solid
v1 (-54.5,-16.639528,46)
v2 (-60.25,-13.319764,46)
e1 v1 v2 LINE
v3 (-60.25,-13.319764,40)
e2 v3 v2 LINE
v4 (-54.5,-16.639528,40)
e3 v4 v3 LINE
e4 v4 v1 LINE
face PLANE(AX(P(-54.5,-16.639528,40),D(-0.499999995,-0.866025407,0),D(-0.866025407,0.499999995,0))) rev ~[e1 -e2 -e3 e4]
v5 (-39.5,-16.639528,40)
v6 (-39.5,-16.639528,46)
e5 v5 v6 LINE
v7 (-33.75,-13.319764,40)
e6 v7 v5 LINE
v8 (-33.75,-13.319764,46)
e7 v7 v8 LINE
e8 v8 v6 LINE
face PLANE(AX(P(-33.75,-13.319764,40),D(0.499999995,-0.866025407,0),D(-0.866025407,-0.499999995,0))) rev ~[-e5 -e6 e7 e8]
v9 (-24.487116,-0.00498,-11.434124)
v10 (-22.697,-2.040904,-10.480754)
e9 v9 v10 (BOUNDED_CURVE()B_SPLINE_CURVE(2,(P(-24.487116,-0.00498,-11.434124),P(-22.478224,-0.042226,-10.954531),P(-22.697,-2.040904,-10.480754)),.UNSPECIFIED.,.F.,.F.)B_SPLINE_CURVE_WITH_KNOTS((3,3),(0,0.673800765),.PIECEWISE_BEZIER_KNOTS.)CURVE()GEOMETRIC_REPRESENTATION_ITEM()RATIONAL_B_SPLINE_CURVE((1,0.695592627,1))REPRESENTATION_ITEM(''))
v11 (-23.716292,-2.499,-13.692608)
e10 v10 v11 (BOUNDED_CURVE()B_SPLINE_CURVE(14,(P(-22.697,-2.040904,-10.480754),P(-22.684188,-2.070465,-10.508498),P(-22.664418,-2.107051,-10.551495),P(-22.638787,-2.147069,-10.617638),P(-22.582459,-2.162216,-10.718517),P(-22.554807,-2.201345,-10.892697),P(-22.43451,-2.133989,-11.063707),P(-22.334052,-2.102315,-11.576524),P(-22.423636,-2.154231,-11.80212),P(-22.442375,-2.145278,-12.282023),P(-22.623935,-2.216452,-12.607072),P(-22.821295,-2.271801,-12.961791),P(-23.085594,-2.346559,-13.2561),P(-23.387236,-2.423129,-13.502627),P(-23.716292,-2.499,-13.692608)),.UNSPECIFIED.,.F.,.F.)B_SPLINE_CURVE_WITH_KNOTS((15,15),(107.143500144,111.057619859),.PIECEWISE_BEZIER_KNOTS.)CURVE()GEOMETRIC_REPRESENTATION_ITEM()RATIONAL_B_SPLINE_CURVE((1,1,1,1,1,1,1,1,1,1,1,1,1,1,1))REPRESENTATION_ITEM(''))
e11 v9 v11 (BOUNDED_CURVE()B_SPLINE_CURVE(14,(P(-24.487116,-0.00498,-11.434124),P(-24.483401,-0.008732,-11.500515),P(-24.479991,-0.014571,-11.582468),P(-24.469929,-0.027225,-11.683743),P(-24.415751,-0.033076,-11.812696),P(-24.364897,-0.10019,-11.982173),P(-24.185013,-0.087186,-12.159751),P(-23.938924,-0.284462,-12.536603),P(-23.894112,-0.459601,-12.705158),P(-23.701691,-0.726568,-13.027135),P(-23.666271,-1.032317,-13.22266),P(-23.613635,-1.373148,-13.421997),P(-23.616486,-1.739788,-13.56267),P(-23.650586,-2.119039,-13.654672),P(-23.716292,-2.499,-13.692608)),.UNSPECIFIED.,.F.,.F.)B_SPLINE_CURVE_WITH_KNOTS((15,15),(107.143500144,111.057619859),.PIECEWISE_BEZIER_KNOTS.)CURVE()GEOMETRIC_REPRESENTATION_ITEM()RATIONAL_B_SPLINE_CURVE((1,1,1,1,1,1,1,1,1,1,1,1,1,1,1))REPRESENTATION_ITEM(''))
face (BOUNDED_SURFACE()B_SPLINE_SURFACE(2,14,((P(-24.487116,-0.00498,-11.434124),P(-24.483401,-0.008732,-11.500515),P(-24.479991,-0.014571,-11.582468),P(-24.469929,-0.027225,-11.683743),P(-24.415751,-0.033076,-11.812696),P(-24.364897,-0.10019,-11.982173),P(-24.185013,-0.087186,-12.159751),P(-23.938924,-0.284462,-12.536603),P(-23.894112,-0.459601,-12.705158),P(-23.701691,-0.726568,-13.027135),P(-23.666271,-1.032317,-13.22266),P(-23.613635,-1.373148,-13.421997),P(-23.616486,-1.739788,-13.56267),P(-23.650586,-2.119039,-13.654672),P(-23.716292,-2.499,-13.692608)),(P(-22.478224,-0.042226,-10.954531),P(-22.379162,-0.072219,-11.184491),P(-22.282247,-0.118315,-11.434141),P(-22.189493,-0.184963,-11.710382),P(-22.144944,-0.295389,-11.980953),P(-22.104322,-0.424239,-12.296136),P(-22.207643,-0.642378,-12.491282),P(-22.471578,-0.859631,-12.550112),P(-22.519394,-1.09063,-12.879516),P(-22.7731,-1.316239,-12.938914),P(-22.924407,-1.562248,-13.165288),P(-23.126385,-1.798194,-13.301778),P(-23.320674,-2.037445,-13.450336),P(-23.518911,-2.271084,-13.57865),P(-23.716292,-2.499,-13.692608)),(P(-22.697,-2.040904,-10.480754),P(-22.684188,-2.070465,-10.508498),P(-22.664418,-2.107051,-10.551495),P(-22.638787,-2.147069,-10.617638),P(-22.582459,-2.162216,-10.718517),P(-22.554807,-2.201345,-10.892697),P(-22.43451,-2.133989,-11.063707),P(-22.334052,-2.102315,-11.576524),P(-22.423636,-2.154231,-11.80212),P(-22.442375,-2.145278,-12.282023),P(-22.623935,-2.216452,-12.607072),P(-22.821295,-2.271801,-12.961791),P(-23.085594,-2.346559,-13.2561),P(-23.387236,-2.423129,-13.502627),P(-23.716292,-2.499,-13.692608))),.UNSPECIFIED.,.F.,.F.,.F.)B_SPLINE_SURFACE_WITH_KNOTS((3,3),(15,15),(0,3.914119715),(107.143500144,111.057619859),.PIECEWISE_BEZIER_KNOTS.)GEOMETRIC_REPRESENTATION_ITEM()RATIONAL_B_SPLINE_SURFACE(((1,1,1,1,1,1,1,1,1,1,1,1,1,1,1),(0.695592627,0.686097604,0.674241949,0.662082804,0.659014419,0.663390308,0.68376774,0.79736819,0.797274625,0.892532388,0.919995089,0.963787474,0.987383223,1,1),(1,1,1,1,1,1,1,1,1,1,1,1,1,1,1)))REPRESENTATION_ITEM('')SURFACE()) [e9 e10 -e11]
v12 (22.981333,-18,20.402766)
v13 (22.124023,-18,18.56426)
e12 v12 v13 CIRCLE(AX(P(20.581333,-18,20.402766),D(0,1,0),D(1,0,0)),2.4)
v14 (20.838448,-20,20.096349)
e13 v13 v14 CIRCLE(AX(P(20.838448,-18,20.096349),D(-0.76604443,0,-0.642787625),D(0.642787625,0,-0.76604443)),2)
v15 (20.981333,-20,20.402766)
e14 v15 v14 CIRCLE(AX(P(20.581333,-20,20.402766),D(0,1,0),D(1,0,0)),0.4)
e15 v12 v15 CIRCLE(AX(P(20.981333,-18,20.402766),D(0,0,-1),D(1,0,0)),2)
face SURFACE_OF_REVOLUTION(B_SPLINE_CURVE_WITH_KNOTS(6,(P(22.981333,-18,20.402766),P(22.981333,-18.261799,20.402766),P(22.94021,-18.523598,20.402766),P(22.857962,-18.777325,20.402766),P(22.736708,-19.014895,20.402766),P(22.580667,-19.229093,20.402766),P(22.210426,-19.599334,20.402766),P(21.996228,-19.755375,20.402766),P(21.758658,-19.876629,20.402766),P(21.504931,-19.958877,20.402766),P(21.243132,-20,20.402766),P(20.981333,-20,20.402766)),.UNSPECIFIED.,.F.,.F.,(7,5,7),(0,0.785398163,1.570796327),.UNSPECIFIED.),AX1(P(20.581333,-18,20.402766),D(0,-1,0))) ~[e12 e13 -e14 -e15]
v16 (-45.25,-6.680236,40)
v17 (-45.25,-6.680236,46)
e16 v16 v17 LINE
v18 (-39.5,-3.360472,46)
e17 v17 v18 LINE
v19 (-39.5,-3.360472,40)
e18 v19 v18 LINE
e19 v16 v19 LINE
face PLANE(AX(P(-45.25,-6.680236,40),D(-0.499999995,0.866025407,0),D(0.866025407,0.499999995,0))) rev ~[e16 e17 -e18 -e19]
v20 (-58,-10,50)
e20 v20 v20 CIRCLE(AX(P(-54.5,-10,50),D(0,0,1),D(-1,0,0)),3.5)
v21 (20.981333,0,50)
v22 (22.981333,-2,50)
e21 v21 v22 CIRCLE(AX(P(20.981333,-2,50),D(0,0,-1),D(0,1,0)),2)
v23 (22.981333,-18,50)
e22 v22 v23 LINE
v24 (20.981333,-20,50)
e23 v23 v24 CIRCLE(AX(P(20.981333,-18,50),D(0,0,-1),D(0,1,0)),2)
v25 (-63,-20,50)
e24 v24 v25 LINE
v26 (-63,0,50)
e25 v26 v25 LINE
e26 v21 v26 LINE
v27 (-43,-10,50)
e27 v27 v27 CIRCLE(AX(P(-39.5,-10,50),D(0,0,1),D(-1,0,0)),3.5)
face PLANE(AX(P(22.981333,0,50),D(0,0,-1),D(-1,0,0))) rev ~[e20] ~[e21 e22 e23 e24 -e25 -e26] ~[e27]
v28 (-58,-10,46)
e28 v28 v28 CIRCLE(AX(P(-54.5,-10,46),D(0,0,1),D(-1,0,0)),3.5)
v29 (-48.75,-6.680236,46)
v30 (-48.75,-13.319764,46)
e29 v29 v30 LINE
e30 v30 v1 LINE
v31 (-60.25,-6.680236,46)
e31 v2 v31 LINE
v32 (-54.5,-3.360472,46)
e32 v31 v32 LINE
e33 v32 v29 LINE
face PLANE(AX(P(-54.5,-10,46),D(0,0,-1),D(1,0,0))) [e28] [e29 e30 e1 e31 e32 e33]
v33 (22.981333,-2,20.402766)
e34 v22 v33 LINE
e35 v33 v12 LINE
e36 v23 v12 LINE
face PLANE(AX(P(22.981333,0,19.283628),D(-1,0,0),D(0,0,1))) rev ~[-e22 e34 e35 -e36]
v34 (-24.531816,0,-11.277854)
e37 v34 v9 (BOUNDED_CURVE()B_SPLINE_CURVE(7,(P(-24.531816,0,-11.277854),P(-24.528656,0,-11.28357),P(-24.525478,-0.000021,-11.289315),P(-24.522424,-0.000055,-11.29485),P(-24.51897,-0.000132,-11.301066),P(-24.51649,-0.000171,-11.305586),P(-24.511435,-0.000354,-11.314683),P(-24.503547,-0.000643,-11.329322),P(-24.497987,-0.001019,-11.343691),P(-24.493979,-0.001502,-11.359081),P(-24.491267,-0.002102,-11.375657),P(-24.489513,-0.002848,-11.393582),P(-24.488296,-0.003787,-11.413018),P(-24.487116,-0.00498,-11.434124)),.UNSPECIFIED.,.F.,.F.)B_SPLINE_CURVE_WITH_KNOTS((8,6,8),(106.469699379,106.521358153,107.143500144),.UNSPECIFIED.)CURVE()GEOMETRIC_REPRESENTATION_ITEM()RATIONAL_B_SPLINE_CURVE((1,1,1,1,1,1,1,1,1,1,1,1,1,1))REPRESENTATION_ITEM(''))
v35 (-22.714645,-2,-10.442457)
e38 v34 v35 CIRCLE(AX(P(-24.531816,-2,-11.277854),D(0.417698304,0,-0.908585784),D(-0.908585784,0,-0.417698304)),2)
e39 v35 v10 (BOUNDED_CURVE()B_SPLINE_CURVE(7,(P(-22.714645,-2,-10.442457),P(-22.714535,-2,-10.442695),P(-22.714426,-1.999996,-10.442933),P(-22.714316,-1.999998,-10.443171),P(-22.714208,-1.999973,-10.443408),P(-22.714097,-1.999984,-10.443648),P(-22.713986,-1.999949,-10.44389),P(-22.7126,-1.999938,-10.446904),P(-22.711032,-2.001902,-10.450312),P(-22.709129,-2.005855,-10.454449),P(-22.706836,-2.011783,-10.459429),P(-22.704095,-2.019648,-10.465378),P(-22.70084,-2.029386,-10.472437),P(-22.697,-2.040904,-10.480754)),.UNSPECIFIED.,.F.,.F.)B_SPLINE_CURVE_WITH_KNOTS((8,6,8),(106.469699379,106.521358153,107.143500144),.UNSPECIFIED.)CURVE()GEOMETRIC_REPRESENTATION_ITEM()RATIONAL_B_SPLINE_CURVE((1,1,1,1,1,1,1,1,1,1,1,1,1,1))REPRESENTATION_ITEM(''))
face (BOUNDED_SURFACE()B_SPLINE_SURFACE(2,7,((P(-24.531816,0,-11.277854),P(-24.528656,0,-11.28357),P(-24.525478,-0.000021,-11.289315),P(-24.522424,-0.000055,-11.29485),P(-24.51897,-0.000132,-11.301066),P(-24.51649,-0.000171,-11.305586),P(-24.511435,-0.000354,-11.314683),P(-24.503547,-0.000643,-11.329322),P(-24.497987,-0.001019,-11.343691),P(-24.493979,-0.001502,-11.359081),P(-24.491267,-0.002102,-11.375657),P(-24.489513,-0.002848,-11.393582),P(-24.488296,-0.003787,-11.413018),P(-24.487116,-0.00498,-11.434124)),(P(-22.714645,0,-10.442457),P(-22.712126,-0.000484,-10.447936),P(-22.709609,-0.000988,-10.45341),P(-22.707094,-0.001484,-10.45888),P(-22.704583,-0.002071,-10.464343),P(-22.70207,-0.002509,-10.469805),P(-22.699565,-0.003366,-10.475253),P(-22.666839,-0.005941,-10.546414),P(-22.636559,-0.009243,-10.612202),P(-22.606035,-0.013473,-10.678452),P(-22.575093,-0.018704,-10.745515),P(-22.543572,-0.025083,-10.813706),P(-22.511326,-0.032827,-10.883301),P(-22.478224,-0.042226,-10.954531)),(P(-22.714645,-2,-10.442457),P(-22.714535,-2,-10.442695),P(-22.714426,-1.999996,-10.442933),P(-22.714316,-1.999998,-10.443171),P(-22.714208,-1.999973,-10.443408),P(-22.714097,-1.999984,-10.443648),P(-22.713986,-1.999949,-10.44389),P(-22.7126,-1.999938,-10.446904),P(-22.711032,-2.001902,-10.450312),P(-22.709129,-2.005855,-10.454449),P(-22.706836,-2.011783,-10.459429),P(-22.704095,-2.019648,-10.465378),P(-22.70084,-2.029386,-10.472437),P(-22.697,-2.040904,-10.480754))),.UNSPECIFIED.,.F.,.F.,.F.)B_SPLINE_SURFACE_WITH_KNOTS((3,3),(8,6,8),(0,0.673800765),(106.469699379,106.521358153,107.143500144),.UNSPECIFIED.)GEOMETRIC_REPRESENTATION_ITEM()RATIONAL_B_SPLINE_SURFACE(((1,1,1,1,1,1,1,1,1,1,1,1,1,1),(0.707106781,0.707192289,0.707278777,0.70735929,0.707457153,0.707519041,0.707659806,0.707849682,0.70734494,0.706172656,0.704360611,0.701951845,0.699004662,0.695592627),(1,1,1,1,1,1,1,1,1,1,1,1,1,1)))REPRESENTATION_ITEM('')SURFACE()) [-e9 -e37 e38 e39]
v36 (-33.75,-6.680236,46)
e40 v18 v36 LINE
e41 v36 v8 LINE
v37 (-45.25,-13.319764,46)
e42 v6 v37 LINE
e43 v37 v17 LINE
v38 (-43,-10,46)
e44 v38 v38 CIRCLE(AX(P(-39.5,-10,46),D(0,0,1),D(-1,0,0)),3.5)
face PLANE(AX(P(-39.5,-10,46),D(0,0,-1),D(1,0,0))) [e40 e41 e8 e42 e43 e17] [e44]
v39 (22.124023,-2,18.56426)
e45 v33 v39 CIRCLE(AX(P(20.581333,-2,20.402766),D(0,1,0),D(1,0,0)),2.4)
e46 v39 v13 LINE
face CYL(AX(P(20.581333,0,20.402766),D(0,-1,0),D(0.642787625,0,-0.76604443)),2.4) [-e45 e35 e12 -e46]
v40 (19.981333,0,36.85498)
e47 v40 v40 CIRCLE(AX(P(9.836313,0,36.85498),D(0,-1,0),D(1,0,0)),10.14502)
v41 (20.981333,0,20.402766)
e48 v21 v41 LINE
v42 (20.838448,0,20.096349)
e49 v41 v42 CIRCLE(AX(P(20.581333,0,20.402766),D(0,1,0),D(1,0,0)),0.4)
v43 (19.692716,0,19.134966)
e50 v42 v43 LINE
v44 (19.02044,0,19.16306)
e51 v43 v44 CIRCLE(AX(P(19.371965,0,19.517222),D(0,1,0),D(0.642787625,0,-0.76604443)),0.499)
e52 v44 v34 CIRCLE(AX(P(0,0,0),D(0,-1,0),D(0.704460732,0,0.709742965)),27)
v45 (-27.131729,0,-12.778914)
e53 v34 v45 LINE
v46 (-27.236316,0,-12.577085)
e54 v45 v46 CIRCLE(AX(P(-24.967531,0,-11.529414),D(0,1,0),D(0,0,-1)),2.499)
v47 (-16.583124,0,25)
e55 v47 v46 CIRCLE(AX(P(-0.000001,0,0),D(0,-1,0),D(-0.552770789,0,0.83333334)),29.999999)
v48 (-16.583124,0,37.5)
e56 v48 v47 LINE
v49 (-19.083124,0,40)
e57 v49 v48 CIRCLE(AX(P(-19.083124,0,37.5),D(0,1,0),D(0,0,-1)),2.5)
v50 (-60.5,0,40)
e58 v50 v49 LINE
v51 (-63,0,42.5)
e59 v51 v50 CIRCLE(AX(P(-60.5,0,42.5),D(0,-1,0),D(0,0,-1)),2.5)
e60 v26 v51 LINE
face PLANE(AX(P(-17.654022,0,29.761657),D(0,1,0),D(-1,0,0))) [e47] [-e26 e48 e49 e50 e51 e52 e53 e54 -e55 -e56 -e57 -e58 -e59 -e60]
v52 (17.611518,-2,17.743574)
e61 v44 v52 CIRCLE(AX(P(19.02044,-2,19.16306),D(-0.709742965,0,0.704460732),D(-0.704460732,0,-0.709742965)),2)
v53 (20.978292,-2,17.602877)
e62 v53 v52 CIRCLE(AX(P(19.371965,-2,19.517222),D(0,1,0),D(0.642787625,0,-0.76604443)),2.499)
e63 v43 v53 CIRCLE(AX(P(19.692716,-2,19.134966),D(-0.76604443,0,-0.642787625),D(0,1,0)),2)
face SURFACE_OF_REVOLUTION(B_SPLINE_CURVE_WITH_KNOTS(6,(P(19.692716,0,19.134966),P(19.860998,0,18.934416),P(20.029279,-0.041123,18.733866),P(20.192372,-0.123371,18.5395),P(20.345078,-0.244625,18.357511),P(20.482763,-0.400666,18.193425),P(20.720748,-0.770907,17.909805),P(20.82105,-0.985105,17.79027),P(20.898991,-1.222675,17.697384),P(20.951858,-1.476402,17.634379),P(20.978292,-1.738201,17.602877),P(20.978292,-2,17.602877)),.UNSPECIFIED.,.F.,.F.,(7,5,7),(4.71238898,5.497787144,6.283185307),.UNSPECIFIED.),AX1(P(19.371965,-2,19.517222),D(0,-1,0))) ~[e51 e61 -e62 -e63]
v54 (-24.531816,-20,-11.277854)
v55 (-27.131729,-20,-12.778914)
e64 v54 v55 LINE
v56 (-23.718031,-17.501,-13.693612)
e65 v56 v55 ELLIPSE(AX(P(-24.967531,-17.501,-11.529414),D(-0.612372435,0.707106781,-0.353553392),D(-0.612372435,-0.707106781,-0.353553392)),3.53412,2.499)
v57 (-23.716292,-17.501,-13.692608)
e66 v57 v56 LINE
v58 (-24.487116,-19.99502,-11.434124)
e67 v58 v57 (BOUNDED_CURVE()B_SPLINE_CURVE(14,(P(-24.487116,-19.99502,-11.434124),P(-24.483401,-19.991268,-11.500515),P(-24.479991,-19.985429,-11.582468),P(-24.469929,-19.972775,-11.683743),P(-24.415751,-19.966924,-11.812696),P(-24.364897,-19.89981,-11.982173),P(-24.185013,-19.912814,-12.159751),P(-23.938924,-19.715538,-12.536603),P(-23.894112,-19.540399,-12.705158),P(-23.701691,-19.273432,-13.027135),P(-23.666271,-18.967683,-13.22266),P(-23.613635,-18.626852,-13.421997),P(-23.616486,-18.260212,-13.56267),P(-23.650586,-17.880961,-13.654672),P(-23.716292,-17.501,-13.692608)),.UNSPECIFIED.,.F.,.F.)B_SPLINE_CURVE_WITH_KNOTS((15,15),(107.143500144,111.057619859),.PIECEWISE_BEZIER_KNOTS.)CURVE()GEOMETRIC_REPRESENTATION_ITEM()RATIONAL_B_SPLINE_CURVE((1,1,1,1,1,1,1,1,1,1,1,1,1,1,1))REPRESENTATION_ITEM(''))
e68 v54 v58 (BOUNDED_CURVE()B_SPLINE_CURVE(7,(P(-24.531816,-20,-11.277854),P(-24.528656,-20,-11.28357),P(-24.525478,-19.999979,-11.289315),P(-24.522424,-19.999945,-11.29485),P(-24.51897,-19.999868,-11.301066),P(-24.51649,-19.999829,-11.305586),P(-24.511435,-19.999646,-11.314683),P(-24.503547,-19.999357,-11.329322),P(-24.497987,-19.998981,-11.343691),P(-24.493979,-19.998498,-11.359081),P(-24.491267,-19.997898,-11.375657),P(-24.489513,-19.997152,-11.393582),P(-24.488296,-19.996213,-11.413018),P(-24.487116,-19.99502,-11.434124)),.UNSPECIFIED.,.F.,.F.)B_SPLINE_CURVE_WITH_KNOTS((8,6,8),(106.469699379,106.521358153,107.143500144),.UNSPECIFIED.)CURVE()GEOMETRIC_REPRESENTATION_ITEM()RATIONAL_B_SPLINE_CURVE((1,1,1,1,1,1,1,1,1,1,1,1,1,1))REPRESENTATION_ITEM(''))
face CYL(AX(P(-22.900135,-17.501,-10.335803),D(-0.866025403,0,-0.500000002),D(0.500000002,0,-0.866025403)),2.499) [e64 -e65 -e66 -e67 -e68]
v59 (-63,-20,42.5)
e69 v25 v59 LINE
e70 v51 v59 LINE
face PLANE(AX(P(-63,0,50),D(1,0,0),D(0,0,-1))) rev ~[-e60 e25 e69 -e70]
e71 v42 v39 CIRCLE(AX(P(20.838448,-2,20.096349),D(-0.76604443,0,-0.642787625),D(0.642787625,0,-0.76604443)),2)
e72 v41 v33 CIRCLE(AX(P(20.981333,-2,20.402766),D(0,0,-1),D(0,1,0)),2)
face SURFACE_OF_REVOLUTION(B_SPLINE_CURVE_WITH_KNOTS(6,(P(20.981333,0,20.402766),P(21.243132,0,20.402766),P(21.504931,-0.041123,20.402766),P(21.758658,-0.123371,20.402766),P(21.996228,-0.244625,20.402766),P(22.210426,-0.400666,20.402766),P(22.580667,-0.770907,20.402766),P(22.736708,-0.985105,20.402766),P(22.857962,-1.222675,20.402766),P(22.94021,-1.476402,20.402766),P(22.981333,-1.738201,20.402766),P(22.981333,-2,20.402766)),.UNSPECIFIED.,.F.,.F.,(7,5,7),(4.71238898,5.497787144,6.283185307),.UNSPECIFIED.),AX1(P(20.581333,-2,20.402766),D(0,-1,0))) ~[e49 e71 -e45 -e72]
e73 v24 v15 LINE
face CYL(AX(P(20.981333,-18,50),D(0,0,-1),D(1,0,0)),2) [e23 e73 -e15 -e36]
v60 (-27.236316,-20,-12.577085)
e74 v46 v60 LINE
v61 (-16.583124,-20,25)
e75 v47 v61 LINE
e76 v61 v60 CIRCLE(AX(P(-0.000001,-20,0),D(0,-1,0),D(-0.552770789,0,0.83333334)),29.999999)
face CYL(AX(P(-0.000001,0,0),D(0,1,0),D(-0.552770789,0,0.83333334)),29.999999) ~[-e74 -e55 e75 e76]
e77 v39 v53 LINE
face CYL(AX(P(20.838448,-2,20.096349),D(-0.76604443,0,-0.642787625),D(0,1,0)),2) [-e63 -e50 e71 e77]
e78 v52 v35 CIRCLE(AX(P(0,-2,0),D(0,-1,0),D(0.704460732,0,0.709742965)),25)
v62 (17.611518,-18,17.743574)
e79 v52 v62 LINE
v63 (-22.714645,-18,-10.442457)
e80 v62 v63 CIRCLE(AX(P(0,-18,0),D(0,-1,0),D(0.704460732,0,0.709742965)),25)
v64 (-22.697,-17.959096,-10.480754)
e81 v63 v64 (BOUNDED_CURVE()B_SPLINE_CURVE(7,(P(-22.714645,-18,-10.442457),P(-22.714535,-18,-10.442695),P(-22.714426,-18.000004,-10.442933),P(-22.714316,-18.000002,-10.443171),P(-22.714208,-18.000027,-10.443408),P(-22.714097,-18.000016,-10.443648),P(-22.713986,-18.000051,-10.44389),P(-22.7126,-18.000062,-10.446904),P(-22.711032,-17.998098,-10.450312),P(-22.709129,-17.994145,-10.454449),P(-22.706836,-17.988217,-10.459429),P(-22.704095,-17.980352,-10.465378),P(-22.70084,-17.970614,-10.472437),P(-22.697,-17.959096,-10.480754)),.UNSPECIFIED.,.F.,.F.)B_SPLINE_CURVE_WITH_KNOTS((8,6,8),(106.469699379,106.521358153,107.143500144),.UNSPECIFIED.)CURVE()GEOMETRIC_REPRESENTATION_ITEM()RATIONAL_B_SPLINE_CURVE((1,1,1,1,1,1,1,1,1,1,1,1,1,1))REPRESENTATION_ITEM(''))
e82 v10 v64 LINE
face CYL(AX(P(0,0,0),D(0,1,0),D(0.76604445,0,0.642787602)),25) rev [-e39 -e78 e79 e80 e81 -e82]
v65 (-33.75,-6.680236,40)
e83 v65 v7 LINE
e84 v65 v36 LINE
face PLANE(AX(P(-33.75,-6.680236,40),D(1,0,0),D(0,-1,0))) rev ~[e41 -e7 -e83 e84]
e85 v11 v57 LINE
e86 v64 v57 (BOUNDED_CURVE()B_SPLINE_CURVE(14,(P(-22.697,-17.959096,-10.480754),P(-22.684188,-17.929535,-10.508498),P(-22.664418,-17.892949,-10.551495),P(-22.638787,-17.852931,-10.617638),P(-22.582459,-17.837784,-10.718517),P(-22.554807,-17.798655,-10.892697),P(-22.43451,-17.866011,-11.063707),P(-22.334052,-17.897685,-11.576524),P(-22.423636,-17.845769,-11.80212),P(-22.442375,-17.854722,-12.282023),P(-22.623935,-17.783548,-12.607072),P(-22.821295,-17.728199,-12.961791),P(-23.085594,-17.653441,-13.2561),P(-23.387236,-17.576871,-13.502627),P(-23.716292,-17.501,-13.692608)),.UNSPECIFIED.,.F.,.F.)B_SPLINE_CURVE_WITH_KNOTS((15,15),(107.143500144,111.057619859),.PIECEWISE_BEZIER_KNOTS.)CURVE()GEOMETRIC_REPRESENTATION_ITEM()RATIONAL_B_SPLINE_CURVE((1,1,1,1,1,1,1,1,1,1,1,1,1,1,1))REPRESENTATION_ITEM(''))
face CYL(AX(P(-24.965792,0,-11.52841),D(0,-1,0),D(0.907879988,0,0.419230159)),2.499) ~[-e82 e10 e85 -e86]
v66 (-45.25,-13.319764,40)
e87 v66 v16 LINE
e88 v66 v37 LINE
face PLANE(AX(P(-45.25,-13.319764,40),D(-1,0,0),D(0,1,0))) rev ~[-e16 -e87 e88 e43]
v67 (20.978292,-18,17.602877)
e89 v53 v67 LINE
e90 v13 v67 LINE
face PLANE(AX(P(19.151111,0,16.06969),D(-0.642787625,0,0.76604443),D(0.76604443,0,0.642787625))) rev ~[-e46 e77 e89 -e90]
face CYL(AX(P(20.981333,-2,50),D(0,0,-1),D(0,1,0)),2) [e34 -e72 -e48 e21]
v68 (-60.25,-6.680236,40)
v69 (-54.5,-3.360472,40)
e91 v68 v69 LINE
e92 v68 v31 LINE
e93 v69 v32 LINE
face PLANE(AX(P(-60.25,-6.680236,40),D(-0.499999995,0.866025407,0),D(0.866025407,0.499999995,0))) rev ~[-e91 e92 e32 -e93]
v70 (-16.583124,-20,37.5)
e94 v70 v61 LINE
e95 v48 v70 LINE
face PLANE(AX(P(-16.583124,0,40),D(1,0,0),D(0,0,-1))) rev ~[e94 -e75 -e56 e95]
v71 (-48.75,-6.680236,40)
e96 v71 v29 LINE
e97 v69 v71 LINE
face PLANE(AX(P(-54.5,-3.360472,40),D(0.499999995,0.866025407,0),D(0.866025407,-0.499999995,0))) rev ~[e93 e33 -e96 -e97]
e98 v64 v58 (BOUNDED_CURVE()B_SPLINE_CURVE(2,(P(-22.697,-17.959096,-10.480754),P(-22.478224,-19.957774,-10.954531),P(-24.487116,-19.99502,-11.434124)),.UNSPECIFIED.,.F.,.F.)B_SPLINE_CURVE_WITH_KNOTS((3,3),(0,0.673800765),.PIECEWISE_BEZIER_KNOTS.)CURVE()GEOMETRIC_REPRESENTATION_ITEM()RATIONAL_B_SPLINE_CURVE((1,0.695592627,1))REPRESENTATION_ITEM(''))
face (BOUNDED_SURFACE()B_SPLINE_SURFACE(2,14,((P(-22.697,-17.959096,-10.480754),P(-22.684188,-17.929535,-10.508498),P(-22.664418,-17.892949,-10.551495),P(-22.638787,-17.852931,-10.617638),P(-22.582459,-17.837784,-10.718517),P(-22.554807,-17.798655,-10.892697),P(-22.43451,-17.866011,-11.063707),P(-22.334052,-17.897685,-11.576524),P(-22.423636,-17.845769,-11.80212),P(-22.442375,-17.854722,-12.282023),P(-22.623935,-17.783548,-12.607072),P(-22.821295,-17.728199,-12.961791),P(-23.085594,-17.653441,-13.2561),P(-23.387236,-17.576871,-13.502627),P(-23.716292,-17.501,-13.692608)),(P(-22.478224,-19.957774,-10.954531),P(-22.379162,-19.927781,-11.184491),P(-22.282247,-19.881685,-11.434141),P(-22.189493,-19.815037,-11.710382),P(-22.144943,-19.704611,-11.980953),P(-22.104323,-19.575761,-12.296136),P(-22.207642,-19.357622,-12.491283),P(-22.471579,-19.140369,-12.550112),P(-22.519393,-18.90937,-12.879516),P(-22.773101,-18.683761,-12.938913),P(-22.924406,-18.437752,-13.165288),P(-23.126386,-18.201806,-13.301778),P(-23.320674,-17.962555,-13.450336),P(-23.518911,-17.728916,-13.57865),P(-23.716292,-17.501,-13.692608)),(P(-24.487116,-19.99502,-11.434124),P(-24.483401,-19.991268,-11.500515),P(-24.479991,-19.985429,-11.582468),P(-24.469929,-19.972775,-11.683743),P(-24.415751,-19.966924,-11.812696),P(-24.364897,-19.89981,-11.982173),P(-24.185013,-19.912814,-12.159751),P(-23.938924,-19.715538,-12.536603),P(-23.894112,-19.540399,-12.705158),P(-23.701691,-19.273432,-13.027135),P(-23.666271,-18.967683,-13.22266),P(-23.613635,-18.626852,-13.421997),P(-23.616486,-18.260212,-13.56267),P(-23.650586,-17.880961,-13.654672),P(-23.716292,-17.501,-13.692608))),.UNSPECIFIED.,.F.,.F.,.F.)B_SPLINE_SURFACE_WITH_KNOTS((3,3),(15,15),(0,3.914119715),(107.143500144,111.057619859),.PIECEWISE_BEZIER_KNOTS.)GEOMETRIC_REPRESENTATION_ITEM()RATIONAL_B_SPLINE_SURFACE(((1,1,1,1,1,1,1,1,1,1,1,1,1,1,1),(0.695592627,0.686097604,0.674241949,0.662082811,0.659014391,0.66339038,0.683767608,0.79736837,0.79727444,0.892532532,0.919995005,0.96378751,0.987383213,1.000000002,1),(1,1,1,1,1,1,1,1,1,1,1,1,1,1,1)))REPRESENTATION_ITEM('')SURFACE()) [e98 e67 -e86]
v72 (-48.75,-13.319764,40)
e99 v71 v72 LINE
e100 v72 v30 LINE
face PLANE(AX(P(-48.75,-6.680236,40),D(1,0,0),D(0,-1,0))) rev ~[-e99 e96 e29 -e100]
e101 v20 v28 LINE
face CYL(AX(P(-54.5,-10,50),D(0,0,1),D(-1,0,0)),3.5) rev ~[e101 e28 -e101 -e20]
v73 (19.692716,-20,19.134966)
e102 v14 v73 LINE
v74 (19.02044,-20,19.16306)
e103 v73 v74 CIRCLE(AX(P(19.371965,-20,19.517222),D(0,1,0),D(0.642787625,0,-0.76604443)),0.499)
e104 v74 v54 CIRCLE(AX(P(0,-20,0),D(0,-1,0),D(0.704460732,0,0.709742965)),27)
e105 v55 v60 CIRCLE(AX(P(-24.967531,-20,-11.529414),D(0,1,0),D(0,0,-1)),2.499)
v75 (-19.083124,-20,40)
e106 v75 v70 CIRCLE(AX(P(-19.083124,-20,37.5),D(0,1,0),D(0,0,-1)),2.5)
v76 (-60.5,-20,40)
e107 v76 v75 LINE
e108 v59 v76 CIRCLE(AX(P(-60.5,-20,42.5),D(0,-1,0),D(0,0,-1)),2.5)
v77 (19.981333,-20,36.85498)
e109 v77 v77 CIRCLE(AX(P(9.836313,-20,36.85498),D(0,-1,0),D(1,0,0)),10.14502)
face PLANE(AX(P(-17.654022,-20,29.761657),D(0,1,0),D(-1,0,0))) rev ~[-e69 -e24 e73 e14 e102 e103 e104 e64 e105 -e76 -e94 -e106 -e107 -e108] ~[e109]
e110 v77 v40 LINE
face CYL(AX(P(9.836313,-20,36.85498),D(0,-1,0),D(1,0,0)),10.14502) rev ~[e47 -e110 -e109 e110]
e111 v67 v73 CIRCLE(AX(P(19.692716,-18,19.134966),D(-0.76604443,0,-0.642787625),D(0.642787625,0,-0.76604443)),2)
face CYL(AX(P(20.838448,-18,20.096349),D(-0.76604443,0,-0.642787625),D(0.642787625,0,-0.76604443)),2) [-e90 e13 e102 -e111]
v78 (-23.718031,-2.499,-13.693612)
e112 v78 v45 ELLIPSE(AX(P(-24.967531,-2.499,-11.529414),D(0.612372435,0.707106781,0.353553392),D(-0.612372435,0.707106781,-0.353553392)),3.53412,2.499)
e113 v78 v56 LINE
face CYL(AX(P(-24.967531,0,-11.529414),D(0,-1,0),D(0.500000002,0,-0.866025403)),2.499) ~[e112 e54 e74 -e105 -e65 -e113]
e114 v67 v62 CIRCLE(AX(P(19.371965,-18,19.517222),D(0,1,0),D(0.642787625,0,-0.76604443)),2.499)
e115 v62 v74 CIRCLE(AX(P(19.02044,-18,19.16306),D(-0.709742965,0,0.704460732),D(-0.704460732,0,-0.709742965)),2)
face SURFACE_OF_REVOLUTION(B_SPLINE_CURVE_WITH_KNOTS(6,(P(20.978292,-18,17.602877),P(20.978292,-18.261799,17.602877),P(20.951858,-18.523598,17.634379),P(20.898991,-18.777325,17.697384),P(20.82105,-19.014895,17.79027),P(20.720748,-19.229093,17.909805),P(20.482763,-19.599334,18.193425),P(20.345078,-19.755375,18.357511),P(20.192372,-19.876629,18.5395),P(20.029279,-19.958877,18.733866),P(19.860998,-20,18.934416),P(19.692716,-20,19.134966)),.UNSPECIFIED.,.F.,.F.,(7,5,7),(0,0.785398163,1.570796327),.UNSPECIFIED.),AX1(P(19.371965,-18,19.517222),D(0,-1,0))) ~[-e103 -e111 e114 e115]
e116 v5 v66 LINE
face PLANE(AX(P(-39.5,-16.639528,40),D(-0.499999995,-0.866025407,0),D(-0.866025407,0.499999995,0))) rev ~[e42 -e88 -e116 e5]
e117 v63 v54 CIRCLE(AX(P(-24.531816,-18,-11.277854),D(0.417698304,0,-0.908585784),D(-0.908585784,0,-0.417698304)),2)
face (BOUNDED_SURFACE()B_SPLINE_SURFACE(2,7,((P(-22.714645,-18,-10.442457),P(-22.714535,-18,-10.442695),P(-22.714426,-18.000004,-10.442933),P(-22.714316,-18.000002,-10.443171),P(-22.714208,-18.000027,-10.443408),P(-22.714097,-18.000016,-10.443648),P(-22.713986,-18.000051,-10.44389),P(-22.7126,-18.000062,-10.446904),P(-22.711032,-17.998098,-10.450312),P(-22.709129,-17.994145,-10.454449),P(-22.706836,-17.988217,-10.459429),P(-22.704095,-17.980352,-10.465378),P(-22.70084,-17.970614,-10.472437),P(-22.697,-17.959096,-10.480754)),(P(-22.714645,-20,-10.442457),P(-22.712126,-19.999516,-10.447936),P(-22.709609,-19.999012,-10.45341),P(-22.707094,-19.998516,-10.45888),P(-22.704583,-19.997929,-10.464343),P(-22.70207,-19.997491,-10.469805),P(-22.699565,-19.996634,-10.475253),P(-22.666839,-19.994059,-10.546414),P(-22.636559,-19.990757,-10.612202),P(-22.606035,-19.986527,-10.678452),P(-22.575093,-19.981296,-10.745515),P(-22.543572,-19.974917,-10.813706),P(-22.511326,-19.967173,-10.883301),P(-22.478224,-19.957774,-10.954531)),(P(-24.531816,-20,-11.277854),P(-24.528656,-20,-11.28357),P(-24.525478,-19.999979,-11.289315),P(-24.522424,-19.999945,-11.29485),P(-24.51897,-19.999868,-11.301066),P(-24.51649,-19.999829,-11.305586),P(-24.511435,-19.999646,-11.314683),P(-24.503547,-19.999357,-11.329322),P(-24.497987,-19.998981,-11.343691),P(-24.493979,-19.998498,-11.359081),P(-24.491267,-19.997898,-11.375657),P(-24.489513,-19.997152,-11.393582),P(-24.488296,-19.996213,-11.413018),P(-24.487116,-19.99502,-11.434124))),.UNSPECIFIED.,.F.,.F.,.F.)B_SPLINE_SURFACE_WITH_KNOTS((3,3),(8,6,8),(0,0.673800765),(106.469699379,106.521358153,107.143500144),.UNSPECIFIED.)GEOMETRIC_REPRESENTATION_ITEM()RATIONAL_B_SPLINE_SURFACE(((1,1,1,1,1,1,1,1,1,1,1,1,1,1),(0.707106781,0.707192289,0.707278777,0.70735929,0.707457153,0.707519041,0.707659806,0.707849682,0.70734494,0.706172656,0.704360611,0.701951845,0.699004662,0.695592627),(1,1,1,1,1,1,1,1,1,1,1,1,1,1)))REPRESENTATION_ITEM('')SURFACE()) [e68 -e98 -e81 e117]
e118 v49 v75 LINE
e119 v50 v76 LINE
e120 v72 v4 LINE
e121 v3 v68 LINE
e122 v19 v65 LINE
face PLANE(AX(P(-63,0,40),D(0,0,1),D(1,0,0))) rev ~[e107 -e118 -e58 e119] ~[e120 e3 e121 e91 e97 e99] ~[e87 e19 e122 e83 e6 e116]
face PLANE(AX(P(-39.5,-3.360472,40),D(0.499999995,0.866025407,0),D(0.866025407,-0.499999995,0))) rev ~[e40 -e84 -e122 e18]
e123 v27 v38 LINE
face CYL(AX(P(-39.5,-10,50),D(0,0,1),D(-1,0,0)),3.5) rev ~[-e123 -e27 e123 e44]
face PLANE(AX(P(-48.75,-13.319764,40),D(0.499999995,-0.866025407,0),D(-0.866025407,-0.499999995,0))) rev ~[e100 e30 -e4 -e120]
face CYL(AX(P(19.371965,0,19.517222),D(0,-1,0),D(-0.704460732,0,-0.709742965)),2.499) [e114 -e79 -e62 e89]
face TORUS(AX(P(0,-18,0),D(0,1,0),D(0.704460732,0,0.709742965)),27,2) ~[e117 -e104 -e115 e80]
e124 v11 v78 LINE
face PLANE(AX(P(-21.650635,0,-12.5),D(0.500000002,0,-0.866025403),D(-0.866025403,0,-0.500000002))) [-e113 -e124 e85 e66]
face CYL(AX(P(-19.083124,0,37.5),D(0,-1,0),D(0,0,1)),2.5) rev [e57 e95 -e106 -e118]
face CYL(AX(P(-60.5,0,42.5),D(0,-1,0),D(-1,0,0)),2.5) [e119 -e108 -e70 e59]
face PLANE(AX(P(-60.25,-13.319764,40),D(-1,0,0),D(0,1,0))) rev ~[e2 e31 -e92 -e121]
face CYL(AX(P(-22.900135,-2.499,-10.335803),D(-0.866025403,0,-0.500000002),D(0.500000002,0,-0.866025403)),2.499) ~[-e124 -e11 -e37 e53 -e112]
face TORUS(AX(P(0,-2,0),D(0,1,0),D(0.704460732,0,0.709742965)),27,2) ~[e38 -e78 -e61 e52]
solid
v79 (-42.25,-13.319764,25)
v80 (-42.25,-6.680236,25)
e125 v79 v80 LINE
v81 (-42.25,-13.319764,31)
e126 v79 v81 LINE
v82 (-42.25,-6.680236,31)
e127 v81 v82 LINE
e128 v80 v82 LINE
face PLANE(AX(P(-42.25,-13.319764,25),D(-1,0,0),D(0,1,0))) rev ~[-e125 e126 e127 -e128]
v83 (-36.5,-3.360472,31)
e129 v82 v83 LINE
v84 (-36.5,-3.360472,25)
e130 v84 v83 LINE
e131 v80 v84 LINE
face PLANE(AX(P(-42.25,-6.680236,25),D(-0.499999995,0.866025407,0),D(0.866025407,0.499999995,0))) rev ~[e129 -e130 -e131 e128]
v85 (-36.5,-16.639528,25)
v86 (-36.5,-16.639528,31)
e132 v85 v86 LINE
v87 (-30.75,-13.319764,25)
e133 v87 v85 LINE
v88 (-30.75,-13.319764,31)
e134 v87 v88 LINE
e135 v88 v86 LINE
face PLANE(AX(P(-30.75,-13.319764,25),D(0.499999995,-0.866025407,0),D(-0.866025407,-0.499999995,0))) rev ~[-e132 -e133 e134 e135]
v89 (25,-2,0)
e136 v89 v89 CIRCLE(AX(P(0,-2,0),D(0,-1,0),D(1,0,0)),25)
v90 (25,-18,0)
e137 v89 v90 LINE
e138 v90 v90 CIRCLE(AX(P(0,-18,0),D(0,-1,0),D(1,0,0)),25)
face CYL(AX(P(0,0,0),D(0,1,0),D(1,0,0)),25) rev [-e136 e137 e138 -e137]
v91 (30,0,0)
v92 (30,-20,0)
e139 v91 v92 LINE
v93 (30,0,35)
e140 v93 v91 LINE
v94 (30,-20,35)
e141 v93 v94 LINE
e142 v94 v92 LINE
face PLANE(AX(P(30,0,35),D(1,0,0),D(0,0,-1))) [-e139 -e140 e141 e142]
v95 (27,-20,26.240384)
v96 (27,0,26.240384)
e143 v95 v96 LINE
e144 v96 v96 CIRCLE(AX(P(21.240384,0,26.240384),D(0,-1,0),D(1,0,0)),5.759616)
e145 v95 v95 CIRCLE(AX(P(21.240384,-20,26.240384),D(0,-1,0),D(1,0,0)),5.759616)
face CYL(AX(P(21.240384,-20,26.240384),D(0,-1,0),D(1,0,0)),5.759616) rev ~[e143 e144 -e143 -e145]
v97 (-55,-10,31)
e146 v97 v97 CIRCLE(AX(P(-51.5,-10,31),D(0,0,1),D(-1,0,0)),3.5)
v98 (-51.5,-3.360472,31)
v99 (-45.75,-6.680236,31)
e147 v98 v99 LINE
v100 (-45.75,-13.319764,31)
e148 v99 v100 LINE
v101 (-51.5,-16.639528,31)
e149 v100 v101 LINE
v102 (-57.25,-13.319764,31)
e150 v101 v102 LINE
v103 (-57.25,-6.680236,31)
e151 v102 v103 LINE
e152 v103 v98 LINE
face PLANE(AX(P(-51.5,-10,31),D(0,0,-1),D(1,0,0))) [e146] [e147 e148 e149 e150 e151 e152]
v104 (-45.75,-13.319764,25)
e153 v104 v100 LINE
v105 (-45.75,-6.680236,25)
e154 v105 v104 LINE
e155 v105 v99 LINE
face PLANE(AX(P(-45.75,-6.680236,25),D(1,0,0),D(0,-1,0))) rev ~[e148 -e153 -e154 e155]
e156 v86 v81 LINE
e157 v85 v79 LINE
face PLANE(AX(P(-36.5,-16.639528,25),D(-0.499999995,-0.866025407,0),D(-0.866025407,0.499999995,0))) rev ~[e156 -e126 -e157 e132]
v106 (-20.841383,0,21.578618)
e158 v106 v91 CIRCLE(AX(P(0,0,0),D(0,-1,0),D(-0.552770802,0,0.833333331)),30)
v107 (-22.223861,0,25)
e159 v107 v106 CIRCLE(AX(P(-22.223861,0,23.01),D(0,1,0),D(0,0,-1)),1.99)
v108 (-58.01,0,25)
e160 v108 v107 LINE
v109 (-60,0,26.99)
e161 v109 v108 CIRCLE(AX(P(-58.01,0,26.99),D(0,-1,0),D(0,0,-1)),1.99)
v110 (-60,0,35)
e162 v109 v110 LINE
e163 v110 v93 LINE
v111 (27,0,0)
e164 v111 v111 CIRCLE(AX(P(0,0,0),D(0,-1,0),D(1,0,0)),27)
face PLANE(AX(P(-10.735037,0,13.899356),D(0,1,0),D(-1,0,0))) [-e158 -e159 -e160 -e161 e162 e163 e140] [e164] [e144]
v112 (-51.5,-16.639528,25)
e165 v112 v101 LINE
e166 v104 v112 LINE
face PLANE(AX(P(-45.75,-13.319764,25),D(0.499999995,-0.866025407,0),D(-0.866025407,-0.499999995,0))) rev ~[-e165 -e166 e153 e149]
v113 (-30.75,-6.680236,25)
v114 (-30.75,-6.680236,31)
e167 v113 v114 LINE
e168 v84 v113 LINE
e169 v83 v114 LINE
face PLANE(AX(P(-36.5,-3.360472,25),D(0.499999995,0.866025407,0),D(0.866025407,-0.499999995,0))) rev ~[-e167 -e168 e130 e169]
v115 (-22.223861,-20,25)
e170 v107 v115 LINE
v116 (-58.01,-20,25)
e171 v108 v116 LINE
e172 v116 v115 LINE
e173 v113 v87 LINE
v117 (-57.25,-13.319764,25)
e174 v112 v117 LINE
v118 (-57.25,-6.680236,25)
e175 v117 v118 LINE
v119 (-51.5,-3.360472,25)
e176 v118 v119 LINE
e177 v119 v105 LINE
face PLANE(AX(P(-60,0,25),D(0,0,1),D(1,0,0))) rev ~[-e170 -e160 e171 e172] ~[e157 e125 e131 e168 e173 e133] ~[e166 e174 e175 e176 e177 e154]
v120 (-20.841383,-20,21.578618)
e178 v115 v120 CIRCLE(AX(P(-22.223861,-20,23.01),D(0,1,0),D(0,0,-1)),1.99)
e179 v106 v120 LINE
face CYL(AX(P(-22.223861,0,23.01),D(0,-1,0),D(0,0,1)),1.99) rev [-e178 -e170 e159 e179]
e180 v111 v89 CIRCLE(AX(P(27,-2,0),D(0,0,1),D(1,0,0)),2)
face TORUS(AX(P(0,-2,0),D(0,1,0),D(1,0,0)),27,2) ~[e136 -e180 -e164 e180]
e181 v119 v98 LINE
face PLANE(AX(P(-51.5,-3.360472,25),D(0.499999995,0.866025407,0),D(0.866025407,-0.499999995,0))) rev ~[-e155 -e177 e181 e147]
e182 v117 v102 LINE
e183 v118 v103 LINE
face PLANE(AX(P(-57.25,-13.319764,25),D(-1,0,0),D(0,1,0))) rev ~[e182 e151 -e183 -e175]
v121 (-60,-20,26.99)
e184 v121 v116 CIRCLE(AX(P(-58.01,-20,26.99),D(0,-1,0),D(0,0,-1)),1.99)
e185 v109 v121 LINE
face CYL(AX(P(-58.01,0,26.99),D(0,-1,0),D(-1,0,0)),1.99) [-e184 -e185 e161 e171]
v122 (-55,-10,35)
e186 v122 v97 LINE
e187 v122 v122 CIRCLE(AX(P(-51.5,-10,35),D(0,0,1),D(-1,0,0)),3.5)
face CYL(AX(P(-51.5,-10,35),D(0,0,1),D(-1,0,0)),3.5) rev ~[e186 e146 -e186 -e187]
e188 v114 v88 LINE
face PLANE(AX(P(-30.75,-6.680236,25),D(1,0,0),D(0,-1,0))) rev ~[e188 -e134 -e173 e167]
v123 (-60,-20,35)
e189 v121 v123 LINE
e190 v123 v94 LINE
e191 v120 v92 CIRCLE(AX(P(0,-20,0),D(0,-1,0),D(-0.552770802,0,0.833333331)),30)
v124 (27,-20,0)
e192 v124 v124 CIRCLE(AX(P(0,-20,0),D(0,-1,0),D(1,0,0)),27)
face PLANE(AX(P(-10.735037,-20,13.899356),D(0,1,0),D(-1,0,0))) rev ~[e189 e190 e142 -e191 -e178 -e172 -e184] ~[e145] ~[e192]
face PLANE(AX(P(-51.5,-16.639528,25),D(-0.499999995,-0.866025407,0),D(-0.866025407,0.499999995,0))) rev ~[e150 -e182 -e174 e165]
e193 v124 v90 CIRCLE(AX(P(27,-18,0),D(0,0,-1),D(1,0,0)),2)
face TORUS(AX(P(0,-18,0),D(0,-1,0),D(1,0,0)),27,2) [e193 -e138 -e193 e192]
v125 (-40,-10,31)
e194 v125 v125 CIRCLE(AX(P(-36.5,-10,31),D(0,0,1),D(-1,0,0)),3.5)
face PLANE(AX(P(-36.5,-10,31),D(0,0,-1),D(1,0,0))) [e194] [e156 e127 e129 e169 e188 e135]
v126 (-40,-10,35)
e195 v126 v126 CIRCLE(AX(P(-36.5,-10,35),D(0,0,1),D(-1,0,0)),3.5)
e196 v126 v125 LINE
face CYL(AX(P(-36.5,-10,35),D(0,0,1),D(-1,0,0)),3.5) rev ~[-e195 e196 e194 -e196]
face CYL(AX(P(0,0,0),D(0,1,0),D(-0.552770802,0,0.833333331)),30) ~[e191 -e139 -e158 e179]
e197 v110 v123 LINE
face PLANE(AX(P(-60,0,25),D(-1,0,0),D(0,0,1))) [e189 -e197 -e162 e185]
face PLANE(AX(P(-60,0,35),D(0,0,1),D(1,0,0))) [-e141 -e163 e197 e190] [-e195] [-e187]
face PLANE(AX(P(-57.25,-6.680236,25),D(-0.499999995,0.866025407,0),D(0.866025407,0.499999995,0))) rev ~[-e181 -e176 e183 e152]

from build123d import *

# Parameters (mm, degrees)
SKETCH_R        = 25
PAD_DEPTH       = 20
SKETCH001_R     = 3.5
POCKET_DEPTH    = 10
POCKET001_DEPTH = 6
FILLET003_R     = 1.99
SKETCH010_R     = 5.759616
POCKET008_DEPTH = 20
FILLET004_R     = 2
PAD001_DEPTH    = 20
SKETCH004_R     = 3.5
POCKET002_DEPTH = 10
POCKET003_DEPTH = 6
FILLET_R        = 2.499
FILLET001_R     = 2.4
FILLET002_R     = 2.5
SKETCH009_R     = 10.14502
POCKET007_DEPTH = 20
FILLET005_R     = 2


with BuildPart() as body:
    # Sketch → Pad (new body)
    with BuildSketch(Plane.XZ):
        with BuildLine():
            Line((-60, 25), (-60, 35))
            Line((-60, 35), (30, 35))
            Line((30, 35), (30, 25))
            Line((30, 25), (30, 0))
            ThreePointArc((-16.583124, 25), (-14.186372, -26.43382), (30, 0))
            Line((-60, 25), (-16.583124, 25))
        make_face()
        Circle(SKETCH_R, mode=Mode.SUBTRACT)
    extrude(amount=PAD_DEPTH)

    # Sketch001 (on Face2 of Pad) → Pocket (cut)
    with BuildSketch(Plane(origin=(0, 0, 35), x_dir=(-1, 0, 0), z_dir=(0, 0, 1))):
        with Locations((51.5, 10)):
            Circle(SKETCH001_R)
        with Locations((36.5, 10)):
            Circle(SKETCH001_R)
    extrude(amount=-POCKET_DEPTH, mode=Mode.SUBTRACT)

    # Sketch002 → Pocket001 (cut)
    with BuildSketch(Plane(origin=(0, 0, 25), x_dir=(1, 0, 0), z_dir=(0, 0, -1))):
        Polygon((-45.75, 13.319764), (-51.5, 16.639528), (-57.25, 13.319764), (-57.25, 6.680236), (-51.5, 3.360472), (-45.75, 6.680236), align=None)
        Polygon((-36.5, 16.639528), (-42.25, 13.319764), (-42.25, 6.680236), (-36.5, 3.360472), (-30.75, 6.680236), (-30.75, 13.319764), align=None)
    extrude(amount=-POCKET001_DEPTH, mode=Mode.SUBTRACT)

    # Fillet003
    fillet003_edges = [body.edges().sort_by_distance(p)[0] for p in [
        (-16.583124, -10, 25),
        (-60, -10, 25),
    ]]
    fillet(fillet003_edges, radius=FILLET003_R)

    # Sketch010 (on Face5 of Fillet003) → Pocket008 (cut)
    with BuildSketch(Plane.XZ.offset(20)):
        with Locations((21.240384, 26.240384)):
            Circle(SKETCH010_R)
    extrude(amount=-POCKET008_DEPTH, mode=Mode.SUBTRACT)

    # Fillet004
    fillet004_edges = [body.edges().sort_by_distance(p)[0] for p in [
        (-25, -20, 0),
        (-25, 0, 0),
    ]]
    fillet(fillet004_edges, radius=FILLET004_R)


with BuildPart() as body001:
    # Sketch003 → Pad001 (new body)
    with BuildSketch(Plane.XZ):
        with BuildLine():
            ThreePointArc((19.151111, 16.06969), (-14.339411, 20.478801), (-21.650635, -12.5))
            Line((-21.650635, -12.5), (-25.980762, -15))
            ThreePointArc((-16.583124, 25), (-29.204813, 6.861407), (-25.980762, -15))
            Line((-16.583124, 40), (-16.583124, 25))
            Line((-63, 40), (-16.583124, 40))
            Line((-63, 50), (-63, 40))
            Line((22.981333, 50), (-63, 50))
            Line((22.981333, 19.283628), (22.981333, 50))
            Line((19.151111, 16.06969), (22.981333, 19.283628))
        make_face()
    extrude(amount=PAD001_DEPTH)

    # Sketch004 (on Face8 of Pad001) → Pocket002 (cut)
    with BuildSketch(Plane(origin=(0, 0, 50), x_dir=(-1, 0, 0), z_dir=(0, 0, 1))):
        with Locations((54.5, 10)):
            Circle(SKETCH004_R)
        with Locations((39.5, 10)):
            Circle(SKETCH004_R)
    extrude(amount=-POCKET002_DEPTH, mode=Mode.SUBTRACT)

    # Sketch005 (on Face10 of Pocket002) → Pocket003 (cut)
    with BuildSketch(Plane(origin=(0, 0, 40), x_dir=(1, 0, 0), z_dir=(0, 0, -1))):
        Polygon((-60.25, 6.680236), (-54.5, 3.360472), (-48.75, 6.680236), (-48.75, 13.319764), (-54.5, 16.639528), (-60.25, 13.319764), align=None)
        Polygon((-39.5, 16.639528), (-45.25, 13.319764), (-45.25, 6.680236), (-39.5, 3.360472), (-33.75, 6.680236), (-33.75, 13.319764), align=None)
    extrude(amount=-POCKET003_DEPTH, mode=Mode.SUBTRACT)

    # Fillet
    fillet_edges = [body001.edges().sort_by_distance(p)[0] for p in [
        (-21.650635, -10, -12.5),
        (-25.980762, -10, -15),
        (-23.815699, 0, -13.75),
        (-23.815699, -20, -13.75),
        (19.151111, -10, 16.06969),
    ]]
    fillet(fillet_edges, radius=FILLET_R)

    # Fillet001
    fillet001_edges = [body001.edges().sort_by_distance(p)[0] for p in [
        (22.981333, -10, 19.283628),
    ]]
    fillet(fillet001_edges, radius=FILLET001_R)

    # Fillet002
    fillet002_edges = [body001.edges().sort_by_distance(p)[0] for p in [
        (-63, -10, 40),
        (-16.583124, -10, 40),
    ]]
    fillet(fillet002_edges, radius=FILLET002_R)

    # Sketch009 (on Face16 of Fillet002) → Pocket007 (cut)
    with BuildSketch(Plane.XZ.offset(20)):
        with Locations((9.836313, 36.85498)):
            Circle(SKETCH009_R)
    extrude(amount=-POCKET007_DEPTH, mode=Mode.SUBTRACT)

    # Fillet005
    fillet005_edges = [body001.edges().sort_by_distance(p)[0] for p in [
        (-14.245821, 0, 20.544016),
        (-14.245821, -20, 20.544016),
    ]]
    fillet(fillet005_edges, radius=FILLET005_R)


solid = Compound([body.part, body001.part])
